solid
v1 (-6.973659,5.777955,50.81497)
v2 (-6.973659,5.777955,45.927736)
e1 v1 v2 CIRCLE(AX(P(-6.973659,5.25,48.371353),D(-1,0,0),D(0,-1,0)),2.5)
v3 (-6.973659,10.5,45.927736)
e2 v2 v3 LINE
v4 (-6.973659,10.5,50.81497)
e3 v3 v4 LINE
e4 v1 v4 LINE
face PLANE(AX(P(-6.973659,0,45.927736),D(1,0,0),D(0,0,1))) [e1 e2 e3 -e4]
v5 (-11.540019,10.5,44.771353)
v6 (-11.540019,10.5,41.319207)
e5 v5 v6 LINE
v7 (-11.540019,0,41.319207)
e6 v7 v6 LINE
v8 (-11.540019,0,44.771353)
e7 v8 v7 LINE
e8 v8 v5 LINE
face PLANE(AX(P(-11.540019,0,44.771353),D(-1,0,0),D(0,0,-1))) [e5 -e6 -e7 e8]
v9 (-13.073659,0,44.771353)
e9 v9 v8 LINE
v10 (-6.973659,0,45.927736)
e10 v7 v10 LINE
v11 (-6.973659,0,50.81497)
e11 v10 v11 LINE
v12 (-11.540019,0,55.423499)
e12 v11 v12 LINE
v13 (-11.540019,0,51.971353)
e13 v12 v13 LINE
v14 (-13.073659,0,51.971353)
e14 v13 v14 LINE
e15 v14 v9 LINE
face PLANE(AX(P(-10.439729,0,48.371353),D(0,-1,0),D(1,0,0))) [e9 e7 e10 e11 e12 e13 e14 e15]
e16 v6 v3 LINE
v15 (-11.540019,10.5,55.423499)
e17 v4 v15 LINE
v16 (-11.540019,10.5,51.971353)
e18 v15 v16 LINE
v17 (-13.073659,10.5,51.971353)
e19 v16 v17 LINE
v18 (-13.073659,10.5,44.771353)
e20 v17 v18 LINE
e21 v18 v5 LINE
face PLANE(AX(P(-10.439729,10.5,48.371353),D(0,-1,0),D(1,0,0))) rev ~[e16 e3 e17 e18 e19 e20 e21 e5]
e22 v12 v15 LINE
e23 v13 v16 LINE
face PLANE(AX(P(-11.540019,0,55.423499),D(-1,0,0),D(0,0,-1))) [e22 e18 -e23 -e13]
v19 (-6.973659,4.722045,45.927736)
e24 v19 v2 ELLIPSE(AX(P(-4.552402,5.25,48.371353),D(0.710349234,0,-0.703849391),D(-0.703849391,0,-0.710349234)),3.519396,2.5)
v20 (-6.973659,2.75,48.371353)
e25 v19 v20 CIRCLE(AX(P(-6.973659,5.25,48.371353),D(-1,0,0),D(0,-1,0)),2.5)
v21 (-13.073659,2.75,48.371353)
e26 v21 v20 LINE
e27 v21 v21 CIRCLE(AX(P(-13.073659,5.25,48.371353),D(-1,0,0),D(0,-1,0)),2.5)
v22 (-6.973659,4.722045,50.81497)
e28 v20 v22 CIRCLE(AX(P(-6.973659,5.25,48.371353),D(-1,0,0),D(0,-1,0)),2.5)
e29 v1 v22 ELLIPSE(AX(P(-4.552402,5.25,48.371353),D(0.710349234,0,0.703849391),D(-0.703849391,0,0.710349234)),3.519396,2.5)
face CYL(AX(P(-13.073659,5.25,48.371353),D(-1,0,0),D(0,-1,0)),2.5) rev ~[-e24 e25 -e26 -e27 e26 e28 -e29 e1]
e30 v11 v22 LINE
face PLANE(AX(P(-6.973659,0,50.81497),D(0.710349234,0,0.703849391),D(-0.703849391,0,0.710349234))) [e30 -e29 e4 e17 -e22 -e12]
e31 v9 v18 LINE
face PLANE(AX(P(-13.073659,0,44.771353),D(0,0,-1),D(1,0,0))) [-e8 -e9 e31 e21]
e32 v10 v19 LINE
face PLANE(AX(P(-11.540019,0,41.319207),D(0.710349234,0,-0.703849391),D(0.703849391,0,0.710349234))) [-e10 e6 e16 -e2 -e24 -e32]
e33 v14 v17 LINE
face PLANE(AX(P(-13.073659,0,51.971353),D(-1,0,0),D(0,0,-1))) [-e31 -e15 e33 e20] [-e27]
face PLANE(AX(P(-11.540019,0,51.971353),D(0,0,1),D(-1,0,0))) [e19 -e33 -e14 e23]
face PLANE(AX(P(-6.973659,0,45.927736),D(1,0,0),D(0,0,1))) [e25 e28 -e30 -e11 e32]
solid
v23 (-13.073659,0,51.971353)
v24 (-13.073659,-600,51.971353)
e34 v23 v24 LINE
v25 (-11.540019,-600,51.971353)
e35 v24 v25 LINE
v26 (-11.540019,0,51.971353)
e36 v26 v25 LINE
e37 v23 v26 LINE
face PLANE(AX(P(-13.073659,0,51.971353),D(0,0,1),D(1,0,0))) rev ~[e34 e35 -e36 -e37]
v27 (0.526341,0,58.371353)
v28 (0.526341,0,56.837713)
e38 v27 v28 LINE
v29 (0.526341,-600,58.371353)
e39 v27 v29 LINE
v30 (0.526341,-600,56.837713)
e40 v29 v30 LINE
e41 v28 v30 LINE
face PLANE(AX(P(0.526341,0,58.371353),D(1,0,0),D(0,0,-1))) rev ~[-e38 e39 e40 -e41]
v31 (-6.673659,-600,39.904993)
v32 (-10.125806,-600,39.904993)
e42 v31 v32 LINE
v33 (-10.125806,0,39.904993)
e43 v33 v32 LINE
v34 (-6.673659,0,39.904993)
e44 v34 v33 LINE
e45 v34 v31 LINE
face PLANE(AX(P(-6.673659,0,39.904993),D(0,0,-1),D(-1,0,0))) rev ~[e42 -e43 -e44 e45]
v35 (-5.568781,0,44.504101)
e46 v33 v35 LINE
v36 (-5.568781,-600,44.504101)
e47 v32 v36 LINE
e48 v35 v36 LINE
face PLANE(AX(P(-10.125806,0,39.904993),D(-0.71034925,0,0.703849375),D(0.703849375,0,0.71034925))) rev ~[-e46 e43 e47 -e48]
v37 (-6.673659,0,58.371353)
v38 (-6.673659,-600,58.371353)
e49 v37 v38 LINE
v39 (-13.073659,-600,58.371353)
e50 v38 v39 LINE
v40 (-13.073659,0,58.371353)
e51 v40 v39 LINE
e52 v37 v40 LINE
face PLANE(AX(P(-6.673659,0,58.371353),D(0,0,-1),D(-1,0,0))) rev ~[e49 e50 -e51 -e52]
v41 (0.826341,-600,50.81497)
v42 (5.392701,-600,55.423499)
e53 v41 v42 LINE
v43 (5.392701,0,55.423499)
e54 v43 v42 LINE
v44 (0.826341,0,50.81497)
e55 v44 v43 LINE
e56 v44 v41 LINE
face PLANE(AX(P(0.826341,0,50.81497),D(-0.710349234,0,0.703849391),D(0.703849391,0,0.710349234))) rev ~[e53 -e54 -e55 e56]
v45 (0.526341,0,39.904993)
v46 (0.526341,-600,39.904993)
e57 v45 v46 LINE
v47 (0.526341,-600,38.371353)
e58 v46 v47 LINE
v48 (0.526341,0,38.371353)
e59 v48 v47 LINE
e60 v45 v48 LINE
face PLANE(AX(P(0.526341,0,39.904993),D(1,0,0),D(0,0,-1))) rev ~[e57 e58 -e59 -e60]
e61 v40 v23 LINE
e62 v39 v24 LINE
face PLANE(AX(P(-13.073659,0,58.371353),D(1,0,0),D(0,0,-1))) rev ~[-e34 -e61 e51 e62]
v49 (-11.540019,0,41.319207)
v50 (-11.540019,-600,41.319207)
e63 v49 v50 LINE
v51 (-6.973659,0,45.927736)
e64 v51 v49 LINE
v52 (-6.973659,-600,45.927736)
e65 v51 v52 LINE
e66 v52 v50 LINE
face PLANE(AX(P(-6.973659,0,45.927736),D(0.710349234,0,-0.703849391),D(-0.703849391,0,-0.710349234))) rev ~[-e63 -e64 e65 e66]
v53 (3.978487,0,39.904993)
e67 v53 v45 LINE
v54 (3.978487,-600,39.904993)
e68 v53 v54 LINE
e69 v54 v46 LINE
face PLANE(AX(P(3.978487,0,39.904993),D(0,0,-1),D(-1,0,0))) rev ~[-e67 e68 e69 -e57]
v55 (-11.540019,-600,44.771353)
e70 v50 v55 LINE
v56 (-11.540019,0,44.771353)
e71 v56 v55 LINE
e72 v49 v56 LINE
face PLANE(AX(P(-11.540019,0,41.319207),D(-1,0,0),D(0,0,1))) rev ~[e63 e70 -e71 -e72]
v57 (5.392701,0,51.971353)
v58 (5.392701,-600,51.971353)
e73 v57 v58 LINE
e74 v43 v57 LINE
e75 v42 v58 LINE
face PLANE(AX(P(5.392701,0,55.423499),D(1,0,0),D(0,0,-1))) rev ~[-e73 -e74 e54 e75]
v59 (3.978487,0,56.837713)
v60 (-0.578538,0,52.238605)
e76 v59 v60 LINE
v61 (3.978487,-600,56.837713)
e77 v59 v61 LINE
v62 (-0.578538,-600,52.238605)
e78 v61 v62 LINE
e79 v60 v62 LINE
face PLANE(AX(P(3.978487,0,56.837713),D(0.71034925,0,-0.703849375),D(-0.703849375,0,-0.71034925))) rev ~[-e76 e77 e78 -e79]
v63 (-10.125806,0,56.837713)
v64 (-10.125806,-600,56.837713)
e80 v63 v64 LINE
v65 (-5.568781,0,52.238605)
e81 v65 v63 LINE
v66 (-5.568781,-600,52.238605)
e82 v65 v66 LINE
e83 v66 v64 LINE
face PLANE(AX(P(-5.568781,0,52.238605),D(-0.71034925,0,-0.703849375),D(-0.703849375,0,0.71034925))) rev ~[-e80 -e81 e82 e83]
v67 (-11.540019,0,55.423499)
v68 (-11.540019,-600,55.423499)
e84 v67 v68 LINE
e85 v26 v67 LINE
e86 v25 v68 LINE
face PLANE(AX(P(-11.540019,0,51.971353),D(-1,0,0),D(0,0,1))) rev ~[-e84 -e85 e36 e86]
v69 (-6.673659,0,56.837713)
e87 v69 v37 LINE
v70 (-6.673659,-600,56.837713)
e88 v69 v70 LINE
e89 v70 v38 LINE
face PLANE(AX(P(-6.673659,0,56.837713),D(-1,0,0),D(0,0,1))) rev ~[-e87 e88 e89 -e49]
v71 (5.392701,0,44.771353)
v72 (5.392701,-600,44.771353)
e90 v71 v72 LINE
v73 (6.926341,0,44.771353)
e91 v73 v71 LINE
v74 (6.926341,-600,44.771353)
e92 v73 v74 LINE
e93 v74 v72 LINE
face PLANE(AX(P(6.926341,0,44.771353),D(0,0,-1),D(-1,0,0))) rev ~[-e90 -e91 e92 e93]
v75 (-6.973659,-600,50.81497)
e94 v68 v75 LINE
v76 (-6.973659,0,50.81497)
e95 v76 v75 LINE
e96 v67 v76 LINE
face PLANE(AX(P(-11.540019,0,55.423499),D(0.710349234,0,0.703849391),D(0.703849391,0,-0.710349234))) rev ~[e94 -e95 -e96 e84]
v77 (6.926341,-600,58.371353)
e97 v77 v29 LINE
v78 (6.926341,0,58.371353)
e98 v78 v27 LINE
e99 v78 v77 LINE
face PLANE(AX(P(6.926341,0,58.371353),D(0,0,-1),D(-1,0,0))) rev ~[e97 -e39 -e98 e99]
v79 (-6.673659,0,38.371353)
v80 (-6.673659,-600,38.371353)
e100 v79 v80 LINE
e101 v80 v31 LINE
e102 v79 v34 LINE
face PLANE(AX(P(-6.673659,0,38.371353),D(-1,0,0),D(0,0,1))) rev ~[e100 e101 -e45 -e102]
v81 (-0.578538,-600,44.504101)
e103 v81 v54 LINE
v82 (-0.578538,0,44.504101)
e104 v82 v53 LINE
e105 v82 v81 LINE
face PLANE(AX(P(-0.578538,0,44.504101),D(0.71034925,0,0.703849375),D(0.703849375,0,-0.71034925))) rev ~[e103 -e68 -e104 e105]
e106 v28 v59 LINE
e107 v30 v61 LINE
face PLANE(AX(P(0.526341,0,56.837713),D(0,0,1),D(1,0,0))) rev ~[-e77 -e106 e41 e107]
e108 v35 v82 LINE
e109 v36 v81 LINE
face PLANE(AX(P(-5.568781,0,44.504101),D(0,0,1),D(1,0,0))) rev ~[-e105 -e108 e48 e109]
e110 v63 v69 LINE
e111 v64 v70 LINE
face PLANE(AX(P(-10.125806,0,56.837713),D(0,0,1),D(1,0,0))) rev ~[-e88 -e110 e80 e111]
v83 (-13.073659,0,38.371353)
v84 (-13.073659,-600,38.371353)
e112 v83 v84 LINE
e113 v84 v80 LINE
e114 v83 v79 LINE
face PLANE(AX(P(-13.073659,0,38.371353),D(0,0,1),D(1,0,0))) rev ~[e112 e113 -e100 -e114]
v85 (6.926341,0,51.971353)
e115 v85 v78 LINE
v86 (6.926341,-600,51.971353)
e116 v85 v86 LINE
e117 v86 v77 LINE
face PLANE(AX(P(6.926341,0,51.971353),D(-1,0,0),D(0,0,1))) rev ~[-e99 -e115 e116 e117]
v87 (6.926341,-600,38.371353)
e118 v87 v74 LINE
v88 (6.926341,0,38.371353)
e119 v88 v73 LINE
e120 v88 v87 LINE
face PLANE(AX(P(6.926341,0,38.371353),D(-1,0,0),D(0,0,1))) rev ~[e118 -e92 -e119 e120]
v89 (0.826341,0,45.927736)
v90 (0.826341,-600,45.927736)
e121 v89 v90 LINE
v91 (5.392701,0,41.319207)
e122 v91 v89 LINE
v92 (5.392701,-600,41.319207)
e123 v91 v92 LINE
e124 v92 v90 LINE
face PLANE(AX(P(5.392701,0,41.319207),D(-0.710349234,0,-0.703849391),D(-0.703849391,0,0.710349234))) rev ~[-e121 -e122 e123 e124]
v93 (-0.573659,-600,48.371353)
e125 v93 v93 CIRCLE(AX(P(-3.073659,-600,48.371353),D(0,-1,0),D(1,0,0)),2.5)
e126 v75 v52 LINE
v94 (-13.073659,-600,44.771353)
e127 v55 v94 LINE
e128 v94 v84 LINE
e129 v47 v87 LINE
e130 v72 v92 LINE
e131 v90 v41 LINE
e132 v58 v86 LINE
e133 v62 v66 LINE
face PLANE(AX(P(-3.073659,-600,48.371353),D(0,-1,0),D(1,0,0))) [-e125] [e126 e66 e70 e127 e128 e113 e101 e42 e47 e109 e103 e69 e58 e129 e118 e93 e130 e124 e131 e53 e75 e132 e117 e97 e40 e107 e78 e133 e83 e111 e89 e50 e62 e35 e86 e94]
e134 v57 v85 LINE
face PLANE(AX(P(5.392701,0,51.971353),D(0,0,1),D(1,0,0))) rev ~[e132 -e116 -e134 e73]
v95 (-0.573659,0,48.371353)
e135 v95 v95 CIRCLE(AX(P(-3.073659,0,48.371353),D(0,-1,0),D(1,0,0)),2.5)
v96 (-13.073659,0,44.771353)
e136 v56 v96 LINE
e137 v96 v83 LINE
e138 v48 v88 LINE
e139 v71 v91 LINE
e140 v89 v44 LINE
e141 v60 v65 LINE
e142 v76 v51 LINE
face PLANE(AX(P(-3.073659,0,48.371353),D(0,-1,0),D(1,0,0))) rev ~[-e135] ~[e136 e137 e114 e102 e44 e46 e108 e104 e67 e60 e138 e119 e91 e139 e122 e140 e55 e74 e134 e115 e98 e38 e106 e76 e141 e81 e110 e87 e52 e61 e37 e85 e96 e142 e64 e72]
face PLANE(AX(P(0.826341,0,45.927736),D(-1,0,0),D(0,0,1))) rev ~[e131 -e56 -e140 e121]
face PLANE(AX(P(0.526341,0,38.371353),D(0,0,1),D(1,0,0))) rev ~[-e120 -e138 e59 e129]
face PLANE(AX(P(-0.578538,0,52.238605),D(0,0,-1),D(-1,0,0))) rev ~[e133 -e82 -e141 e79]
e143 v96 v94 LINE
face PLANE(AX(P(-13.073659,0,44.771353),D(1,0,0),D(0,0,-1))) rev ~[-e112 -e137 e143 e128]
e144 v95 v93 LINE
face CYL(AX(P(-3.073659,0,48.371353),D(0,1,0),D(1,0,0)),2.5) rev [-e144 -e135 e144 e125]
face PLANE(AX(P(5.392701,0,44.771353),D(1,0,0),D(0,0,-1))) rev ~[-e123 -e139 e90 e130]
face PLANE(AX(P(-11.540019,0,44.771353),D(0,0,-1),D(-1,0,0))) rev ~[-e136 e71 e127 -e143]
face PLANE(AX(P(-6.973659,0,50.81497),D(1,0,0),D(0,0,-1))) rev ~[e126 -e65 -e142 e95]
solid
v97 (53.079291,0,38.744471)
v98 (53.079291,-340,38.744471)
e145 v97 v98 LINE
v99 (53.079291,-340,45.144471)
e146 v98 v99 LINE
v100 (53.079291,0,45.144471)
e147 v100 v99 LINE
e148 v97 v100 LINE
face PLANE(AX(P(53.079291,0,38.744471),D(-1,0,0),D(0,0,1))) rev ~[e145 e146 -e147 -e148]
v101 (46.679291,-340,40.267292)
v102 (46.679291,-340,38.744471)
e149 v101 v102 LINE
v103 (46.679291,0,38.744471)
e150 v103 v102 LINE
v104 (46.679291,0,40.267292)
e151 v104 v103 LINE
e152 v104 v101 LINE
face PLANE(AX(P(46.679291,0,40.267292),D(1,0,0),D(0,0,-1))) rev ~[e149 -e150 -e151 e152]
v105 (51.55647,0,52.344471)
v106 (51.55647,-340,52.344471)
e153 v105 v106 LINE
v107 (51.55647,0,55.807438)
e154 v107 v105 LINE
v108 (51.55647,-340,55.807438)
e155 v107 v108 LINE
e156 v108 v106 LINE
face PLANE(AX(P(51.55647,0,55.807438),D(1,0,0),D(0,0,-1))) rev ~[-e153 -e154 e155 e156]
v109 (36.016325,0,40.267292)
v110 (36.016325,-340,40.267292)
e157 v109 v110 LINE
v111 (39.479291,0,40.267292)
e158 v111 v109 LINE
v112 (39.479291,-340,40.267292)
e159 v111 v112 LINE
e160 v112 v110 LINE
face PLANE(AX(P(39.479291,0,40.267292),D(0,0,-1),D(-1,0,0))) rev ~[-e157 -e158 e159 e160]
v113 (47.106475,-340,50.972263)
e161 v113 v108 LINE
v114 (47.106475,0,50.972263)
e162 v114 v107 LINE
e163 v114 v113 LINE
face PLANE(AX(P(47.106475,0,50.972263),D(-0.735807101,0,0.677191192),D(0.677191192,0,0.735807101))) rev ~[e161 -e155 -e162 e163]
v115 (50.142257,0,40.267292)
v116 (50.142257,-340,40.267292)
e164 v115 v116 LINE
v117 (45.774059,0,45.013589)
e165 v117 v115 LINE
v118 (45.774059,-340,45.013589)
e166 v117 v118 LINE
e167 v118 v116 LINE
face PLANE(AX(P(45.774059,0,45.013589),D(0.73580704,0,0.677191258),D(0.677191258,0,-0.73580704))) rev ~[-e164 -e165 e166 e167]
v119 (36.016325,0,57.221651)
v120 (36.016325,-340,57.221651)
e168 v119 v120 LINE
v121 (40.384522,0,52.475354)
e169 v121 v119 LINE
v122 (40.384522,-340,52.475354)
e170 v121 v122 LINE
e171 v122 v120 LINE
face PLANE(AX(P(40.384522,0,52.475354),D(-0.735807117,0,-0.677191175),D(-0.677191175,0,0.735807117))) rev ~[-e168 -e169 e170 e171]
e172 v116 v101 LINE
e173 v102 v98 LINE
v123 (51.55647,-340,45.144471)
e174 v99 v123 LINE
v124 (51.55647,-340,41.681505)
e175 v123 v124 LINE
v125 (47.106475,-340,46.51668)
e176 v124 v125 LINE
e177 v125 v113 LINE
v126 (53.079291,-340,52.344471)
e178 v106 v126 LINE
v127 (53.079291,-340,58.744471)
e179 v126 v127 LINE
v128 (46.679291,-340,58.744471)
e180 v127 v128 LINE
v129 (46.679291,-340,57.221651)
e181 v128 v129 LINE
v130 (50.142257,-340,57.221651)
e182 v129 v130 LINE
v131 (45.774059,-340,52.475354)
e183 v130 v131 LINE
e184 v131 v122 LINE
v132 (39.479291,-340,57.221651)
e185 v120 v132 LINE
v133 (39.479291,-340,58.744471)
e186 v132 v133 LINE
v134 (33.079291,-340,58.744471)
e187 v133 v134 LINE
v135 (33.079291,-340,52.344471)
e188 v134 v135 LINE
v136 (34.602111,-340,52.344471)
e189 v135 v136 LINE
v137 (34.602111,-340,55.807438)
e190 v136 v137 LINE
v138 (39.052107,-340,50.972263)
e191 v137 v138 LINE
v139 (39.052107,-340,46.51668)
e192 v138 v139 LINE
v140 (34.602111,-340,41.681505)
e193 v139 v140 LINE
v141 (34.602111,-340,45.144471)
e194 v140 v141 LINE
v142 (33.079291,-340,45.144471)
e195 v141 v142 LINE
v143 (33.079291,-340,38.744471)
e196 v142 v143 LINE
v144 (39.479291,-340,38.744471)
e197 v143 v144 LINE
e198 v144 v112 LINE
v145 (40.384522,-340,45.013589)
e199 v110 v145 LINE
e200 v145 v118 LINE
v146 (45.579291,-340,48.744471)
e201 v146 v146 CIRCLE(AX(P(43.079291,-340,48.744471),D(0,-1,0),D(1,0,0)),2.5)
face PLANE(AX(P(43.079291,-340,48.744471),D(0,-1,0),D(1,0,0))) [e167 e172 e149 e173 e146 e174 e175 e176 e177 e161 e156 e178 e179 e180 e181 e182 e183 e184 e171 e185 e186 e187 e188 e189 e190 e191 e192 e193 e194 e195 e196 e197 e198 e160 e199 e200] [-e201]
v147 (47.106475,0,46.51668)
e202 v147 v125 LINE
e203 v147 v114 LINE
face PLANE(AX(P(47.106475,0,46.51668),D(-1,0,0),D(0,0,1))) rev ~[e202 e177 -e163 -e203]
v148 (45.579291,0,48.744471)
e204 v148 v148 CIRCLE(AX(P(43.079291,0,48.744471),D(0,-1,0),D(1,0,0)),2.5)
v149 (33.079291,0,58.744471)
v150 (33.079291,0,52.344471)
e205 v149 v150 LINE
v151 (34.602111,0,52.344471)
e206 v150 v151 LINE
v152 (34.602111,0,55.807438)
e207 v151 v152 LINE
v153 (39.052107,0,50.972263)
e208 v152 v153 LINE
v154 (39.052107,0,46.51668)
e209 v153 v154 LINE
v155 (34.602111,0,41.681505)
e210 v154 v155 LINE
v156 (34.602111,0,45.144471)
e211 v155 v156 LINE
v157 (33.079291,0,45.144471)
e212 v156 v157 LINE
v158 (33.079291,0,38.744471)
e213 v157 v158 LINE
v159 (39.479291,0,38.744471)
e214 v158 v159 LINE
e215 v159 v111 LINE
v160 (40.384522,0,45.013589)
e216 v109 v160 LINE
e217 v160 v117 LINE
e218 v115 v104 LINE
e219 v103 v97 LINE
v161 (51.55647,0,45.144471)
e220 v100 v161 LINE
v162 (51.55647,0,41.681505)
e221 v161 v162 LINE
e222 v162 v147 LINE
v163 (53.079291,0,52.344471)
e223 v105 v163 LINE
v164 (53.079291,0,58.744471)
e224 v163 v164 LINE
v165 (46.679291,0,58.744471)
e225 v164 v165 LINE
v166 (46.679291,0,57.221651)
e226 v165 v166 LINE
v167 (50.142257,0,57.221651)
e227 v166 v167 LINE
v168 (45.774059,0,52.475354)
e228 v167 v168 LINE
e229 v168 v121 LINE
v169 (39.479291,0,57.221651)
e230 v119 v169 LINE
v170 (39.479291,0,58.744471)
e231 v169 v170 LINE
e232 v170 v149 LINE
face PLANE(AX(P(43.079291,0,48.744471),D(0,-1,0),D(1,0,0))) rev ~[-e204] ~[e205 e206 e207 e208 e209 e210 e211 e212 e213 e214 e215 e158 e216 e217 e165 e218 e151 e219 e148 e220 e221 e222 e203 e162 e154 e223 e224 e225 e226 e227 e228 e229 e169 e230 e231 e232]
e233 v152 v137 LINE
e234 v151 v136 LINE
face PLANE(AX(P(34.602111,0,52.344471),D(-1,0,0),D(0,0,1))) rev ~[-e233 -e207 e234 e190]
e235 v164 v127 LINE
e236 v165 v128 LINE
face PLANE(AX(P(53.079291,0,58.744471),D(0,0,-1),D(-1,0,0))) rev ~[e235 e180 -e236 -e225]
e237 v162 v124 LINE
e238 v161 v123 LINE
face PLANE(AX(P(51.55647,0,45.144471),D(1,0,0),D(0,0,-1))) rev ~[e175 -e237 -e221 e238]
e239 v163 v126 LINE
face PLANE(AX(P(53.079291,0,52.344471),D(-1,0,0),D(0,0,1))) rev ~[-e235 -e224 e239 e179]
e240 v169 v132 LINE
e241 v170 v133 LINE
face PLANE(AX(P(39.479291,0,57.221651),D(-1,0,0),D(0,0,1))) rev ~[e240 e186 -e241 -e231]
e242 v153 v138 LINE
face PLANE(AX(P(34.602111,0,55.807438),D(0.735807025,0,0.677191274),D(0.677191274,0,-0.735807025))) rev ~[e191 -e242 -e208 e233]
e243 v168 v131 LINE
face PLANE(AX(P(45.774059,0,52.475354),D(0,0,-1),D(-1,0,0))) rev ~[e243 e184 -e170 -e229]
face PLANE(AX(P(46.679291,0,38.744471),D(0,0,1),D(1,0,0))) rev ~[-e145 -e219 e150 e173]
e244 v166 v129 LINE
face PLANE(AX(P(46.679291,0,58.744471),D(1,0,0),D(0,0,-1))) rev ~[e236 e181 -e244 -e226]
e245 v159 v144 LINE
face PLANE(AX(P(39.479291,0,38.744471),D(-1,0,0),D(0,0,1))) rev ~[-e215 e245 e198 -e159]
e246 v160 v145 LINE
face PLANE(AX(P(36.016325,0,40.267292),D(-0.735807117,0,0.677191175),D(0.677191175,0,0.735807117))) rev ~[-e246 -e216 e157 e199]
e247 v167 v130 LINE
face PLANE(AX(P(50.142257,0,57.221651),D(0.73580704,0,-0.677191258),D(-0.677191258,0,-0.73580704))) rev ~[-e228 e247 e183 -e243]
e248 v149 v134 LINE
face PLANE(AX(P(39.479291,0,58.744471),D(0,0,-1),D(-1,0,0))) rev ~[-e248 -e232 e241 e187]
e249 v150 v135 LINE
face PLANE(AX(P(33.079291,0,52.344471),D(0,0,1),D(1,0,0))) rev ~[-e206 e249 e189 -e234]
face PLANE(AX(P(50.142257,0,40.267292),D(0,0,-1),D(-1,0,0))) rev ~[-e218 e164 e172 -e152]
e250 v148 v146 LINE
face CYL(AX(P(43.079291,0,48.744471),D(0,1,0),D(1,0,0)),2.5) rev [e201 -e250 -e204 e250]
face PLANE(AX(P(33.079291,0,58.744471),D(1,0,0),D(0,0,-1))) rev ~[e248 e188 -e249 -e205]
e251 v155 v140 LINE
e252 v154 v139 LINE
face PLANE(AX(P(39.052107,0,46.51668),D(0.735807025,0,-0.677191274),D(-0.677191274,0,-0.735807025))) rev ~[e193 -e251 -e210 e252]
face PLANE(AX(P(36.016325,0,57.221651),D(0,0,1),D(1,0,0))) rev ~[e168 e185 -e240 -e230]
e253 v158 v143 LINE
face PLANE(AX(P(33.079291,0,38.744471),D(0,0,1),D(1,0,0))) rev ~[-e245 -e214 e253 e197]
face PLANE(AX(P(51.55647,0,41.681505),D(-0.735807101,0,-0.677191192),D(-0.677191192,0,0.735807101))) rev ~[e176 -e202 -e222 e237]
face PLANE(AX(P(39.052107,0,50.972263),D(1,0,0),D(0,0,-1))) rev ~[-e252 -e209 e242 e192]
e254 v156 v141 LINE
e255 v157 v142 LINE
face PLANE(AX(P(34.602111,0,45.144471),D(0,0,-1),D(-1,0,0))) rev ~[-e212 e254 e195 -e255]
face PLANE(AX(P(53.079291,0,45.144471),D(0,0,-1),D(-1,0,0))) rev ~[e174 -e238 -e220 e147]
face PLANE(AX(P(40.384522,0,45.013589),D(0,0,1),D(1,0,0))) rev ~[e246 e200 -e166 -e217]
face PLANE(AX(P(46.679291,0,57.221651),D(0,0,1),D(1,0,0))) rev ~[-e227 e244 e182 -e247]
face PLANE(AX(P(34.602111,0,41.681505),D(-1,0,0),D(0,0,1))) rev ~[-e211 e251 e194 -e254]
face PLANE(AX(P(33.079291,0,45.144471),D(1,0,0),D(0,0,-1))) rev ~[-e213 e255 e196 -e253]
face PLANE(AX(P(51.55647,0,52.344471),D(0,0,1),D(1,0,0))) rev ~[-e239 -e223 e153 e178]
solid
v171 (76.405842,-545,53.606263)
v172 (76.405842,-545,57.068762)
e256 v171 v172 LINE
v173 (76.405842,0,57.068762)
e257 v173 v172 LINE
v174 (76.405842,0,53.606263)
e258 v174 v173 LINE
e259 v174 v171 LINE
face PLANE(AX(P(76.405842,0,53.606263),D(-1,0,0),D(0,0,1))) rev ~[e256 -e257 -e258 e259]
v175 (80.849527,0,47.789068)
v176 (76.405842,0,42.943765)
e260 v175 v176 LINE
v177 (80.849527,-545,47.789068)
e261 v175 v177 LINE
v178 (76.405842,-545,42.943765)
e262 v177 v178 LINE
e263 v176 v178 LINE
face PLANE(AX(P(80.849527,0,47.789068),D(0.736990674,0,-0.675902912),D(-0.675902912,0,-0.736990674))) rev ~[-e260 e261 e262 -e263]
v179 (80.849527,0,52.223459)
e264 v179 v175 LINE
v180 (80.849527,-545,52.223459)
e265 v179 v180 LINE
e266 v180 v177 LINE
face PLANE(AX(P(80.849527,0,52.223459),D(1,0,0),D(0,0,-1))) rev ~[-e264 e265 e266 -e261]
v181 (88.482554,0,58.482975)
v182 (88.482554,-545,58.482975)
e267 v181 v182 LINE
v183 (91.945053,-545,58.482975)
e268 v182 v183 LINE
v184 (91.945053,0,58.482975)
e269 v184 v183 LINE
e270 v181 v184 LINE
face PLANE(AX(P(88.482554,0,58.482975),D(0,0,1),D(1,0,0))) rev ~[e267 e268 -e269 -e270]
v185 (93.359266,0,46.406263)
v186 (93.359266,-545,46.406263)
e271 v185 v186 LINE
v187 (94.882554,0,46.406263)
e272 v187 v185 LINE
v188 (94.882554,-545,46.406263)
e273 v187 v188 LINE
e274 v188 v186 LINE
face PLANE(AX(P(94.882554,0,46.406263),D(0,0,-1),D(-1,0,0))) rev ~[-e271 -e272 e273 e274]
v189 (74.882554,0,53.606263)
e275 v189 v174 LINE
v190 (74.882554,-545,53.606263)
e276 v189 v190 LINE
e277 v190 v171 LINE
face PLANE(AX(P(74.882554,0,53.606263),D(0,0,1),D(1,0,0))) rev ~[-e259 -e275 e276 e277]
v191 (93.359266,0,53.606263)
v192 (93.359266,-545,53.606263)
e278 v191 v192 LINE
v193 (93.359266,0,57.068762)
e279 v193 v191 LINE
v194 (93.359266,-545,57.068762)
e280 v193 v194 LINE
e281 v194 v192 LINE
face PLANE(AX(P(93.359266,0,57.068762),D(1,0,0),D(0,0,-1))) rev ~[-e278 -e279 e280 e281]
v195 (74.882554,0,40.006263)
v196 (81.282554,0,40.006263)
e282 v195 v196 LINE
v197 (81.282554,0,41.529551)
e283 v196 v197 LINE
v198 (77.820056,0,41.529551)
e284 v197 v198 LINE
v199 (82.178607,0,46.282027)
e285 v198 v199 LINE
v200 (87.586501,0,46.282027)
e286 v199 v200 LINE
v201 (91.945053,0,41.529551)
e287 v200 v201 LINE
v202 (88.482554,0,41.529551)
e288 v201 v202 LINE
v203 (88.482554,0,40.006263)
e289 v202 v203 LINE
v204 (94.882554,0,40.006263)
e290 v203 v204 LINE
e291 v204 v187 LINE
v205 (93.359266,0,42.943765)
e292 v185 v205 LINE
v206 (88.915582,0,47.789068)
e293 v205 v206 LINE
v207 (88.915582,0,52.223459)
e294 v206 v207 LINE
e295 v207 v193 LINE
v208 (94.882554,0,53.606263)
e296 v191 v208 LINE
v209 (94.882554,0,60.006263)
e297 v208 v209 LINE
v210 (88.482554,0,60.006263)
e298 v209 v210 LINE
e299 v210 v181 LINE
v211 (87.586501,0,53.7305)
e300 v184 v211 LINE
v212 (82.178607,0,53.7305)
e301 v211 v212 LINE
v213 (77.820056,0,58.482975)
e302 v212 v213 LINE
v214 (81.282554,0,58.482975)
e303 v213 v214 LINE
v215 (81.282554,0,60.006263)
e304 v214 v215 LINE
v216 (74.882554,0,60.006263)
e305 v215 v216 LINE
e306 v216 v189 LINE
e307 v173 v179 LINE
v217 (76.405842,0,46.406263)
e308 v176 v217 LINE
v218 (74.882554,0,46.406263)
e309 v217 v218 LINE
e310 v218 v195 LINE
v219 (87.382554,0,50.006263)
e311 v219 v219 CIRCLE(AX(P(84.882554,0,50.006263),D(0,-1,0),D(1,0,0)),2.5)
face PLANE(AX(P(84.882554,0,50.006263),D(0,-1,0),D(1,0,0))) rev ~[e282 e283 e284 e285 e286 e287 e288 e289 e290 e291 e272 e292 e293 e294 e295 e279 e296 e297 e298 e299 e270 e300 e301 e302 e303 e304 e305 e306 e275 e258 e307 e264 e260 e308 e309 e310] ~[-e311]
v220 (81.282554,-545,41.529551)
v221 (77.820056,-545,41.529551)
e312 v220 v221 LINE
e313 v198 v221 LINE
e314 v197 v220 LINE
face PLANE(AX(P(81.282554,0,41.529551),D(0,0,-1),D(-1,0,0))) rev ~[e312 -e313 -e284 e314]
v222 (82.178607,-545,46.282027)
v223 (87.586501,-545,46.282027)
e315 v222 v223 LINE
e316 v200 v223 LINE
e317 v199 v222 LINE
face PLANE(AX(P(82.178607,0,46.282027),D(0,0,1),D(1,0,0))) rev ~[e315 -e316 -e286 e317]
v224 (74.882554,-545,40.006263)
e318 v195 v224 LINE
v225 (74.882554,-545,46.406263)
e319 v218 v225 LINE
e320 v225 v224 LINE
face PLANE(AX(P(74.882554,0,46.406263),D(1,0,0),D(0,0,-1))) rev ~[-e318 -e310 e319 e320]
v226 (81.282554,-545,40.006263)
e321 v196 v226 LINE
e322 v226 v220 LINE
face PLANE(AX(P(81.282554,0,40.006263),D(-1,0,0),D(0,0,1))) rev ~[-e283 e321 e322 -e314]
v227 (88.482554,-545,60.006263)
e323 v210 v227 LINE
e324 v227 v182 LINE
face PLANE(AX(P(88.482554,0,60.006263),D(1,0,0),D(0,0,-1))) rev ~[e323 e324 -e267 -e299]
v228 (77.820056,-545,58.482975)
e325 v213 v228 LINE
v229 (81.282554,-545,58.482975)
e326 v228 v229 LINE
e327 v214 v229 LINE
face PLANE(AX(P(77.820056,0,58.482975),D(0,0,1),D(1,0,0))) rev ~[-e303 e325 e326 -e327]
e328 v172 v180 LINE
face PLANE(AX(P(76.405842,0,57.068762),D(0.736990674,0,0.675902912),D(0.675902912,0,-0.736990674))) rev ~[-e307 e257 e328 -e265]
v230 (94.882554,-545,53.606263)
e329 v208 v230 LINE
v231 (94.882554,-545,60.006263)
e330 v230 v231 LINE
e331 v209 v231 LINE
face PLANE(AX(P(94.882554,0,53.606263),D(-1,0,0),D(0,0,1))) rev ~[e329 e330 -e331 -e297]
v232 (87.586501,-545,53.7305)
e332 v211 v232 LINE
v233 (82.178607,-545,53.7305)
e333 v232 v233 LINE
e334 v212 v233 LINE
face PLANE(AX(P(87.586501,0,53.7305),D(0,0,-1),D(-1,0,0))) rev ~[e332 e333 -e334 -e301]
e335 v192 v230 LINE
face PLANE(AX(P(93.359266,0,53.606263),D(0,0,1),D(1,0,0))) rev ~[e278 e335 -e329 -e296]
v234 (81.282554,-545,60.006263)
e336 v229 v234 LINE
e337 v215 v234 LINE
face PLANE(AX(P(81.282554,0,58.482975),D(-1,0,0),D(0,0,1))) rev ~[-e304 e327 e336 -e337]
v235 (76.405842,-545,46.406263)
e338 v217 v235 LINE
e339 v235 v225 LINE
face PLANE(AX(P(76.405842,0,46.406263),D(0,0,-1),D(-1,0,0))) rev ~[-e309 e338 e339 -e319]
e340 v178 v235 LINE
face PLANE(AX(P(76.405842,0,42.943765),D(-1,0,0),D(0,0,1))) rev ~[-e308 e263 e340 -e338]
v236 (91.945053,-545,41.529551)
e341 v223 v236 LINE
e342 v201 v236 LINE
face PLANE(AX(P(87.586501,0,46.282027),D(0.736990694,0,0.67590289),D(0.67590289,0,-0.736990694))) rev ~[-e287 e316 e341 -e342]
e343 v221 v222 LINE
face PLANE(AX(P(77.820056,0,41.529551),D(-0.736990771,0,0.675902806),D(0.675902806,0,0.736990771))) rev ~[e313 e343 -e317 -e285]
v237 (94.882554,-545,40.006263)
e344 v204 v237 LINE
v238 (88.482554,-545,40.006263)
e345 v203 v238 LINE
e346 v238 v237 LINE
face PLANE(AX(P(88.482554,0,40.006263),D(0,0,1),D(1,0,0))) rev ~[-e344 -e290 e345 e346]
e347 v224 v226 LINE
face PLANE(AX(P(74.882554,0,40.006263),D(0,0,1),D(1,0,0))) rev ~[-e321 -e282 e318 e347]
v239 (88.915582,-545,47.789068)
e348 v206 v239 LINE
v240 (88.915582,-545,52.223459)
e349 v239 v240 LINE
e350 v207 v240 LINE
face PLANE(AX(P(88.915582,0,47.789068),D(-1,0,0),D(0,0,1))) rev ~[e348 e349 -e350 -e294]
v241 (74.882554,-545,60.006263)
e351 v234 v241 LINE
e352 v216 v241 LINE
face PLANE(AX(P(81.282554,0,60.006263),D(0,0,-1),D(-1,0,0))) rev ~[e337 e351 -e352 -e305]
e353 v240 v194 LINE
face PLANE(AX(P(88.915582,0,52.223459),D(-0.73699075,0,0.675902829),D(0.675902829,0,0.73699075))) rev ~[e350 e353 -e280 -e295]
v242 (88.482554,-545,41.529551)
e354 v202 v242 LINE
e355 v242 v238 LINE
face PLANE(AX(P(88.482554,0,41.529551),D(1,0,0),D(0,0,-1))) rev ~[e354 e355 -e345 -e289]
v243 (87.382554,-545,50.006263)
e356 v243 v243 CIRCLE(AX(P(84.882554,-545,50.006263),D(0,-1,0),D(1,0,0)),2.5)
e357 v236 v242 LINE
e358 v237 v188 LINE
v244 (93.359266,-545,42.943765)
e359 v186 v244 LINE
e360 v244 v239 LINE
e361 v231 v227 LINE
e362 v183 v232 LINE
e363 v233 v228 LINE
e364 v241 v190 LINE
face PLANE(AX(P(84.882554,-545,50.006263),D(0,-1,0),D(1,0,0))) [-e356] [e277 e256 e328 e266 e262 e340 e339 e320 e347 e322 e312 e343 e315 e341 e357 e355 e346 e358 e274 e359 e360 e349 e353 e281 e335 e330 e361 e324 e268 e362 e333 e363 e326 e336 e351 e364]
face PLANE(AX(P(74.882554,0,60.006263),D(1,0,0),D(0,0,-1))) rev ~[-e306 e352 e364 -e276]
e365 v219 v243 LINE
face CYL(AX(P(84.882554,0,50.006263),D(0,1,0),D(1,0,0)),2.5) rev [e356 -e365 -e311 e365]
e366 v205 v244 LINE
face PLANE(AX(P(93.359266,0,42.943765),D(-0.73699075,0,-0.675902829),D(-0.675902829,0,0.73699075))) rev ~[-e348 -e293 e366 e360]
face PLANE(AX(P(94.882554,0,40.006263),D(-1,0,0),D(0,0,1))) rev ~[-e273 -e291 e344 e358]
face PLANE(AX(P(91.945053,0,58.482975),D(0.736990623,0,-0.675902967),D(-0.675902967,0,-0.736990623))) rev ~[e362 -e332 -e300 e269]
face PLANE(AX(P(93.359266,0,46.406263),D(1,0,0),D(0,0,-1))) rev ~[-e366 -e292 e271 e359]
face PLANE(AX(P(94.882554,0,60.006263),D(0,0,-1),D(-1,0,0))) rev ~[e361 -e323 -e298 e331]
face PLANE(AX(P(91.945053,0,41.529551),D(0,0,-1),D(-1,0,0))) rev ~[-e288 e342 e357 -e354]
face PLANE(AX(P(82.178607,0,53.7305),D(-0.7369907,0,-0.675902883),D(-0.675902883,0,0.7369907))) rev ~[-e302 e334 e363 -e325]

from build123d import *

# Parameters (mm, degrees)
F0_R     = 2.5
F1_DEPTH = 600
F2_DEPTH = 340
F3_DEPTH = 545
F4_DEPTH = 10.5
F5_R     = 2.5
F6_DEPTH = 25


with BuildPart() as f1:
    # F0 (on Front) → F1 (new body)
    with BuildSketch(Plane.XZ):
        Polygon((-6.673659, 56.837713), (-6.673659, 58.371353), (-13.073659, 58.371353), (-13.073659, 51.971353), (-11.540019, 51.971353), (-11.540019, 55.423499), (-6.973659, 50.81497), (-6.973659, 45.927736), (-11.540019, 41.319207), (-11.540019, 44.771353), (-13.073659, 44.771353), (-13.073659, 38.371353), (-6.673659, 38.371353), (-6.673659, 39.904993), (-10.125806, 39.904993), (-5.568781, 44.504101), (-0.578538, 44.504101), (3.978487, 39.904993), (0.526341, 39.904993), (0.526341, 38.371353), (6.926341, 38.371353), (6.926341, 44.771353), (5.392701, 44.771353), (5.392701, 41.319207), (0.826341, 45.927736), (0.826341, 50.81497), (5.392701, 55.423499), (5.392701, 51.971353), (6.926341, 51.971353), (6.926341, 58.371353), (0.526341, 58.371353), (0.526341, 56.837713), (3.978487, 56.837713), (-0.578538, 52.238605), (-5.568781, 52.238605), (-10.125806, 56.837713), align=None)
        with Locations((-3.073659, 48.371353)):
            Circle(F0_R, mode=Mode.SUBTRACT)
    extrude(amount=F1_DEPTH)


with BuildPart() as f2:
    # F0 (on Front) → F2 (new body)
    with BuildSketch(Plane.XZ):
        Polygon((39.479291, 57.221651), (39.479291, 58.744471), (33.079291, 58.744471), (33.079291, 52.344471), (34.602111, 52.344471), (34.602111, 55.807438), (39.052107, 50.972263), (39.052107, 46.51668), (34.602111, 41.681505), (34.602111, 45.144471), (33.079291, 45.144471), (33.079291, 38.744471), (39.479291, 38.744471), (39.479291, 40.267292), (36.016325, 40.267292), (40.384522, 45.013589), (45.774059, 45.013589), (50.142257, 40.267292), (46.679291, 40.267292), (46.679291, 38.744471), (53.079291, 38.744471), (53.079291, 45.144471), (51.55647, 45.144471), (51.55647, 41.681505), (47.106475, 46.51668), (47.106475, 50.972263), (51.55647, 55.807438), (51.55647, 52.344471), (53.079291, 52.344471), (53.079291, 58.744471), (46.679291, 58.744471), (46.679291, 57.221651), (50.142257, 57.221651), (45.774059, 52.475354), (40.384522, 52.475354), (36.016325, 57.221651), align=None)
        with Locations((43.079291, 48.744471)):
            Circle(F0_R, mode=Mode.SUBTRACT)
    extrude(amount=F2_DEPTH)


with BuildPart() as f3:
    # F0 (on Front) → F3 (new body)
    with BuildSketch(Plane.XZ):
        Polygon((81.282554, 58.482975), (81.282554, 60.006263), (74.882554, 60.006263), (74.882554, 53.606263), (76.405842, 53.606263), (76.405842, 57.068762), (80.849527, 52.223459), (80.849527, 47.789068), (76.405842, 42.943765), (76.405842, 46.406263), (74.882554, 46.406263), (74.882554, 40.006263), (81.282554, 40.006263), (81.282554, 41.529551), (77.820056, 41.529551), (82.178607, 46.282027), (87.586501, 46.282027), (91.945053, 41.529551), (88.482554, 41.529551), (88.482554, 40.006263), (94.882554, 40.006263), (94.882554, 46.406263), (93.359266, 46.406263), (93.359266, 42.943765), (88.915582, 47.789068), (88.915582, 52.223459), (93.359266, 57.068762), (93.359266, 53.606263), (94.882554, 53.606263), (94.882554, 60.006263), (88.482554, 60.006263), (88.482554, 58.482975), (91.945053, 58.482975), (87.586501, 53.7305), (82.178607, 53.7305), (77.820056, 58.482975), align=None)
        with Locations((84.882554, 50.006263)):
            Circle(F0_R, mode=Mode.SUBTRACT)
    extrude(amount=F3_DEPTH)


with BuildPart() as f4:
    # F0 (on Front) → F4 (new body)
    with BuildSketch(Plane.XZ):
        Polygon((-11.540019, 51.971353), (-13.073659, 51.971353), (-13.073659, 44.771353), (-11.540019, 44.771353), (-11.540019, 41.319207), (-6.973659, 45.927736), (-6.973659, 50.81497), (-11.540019, 55.423499), align=None)
    extrude(amount=-F4_DEPTH)

    # F5 (on face) → F6 (cut)
    with BuildSketch(Plane(origin=(-13.073659, 0, 0), x_dir=(0, -1, 0), z_dir=(-1, 0, 0))):
        with Locations((-5.25, 48.371353)):
            Circle(F5_R)
    extrude(amount=-F6_DEPTH, mode=Mode.SUBTRACT)


solid = Compound([f1.part, f2.part, f3.part, f4.part])
